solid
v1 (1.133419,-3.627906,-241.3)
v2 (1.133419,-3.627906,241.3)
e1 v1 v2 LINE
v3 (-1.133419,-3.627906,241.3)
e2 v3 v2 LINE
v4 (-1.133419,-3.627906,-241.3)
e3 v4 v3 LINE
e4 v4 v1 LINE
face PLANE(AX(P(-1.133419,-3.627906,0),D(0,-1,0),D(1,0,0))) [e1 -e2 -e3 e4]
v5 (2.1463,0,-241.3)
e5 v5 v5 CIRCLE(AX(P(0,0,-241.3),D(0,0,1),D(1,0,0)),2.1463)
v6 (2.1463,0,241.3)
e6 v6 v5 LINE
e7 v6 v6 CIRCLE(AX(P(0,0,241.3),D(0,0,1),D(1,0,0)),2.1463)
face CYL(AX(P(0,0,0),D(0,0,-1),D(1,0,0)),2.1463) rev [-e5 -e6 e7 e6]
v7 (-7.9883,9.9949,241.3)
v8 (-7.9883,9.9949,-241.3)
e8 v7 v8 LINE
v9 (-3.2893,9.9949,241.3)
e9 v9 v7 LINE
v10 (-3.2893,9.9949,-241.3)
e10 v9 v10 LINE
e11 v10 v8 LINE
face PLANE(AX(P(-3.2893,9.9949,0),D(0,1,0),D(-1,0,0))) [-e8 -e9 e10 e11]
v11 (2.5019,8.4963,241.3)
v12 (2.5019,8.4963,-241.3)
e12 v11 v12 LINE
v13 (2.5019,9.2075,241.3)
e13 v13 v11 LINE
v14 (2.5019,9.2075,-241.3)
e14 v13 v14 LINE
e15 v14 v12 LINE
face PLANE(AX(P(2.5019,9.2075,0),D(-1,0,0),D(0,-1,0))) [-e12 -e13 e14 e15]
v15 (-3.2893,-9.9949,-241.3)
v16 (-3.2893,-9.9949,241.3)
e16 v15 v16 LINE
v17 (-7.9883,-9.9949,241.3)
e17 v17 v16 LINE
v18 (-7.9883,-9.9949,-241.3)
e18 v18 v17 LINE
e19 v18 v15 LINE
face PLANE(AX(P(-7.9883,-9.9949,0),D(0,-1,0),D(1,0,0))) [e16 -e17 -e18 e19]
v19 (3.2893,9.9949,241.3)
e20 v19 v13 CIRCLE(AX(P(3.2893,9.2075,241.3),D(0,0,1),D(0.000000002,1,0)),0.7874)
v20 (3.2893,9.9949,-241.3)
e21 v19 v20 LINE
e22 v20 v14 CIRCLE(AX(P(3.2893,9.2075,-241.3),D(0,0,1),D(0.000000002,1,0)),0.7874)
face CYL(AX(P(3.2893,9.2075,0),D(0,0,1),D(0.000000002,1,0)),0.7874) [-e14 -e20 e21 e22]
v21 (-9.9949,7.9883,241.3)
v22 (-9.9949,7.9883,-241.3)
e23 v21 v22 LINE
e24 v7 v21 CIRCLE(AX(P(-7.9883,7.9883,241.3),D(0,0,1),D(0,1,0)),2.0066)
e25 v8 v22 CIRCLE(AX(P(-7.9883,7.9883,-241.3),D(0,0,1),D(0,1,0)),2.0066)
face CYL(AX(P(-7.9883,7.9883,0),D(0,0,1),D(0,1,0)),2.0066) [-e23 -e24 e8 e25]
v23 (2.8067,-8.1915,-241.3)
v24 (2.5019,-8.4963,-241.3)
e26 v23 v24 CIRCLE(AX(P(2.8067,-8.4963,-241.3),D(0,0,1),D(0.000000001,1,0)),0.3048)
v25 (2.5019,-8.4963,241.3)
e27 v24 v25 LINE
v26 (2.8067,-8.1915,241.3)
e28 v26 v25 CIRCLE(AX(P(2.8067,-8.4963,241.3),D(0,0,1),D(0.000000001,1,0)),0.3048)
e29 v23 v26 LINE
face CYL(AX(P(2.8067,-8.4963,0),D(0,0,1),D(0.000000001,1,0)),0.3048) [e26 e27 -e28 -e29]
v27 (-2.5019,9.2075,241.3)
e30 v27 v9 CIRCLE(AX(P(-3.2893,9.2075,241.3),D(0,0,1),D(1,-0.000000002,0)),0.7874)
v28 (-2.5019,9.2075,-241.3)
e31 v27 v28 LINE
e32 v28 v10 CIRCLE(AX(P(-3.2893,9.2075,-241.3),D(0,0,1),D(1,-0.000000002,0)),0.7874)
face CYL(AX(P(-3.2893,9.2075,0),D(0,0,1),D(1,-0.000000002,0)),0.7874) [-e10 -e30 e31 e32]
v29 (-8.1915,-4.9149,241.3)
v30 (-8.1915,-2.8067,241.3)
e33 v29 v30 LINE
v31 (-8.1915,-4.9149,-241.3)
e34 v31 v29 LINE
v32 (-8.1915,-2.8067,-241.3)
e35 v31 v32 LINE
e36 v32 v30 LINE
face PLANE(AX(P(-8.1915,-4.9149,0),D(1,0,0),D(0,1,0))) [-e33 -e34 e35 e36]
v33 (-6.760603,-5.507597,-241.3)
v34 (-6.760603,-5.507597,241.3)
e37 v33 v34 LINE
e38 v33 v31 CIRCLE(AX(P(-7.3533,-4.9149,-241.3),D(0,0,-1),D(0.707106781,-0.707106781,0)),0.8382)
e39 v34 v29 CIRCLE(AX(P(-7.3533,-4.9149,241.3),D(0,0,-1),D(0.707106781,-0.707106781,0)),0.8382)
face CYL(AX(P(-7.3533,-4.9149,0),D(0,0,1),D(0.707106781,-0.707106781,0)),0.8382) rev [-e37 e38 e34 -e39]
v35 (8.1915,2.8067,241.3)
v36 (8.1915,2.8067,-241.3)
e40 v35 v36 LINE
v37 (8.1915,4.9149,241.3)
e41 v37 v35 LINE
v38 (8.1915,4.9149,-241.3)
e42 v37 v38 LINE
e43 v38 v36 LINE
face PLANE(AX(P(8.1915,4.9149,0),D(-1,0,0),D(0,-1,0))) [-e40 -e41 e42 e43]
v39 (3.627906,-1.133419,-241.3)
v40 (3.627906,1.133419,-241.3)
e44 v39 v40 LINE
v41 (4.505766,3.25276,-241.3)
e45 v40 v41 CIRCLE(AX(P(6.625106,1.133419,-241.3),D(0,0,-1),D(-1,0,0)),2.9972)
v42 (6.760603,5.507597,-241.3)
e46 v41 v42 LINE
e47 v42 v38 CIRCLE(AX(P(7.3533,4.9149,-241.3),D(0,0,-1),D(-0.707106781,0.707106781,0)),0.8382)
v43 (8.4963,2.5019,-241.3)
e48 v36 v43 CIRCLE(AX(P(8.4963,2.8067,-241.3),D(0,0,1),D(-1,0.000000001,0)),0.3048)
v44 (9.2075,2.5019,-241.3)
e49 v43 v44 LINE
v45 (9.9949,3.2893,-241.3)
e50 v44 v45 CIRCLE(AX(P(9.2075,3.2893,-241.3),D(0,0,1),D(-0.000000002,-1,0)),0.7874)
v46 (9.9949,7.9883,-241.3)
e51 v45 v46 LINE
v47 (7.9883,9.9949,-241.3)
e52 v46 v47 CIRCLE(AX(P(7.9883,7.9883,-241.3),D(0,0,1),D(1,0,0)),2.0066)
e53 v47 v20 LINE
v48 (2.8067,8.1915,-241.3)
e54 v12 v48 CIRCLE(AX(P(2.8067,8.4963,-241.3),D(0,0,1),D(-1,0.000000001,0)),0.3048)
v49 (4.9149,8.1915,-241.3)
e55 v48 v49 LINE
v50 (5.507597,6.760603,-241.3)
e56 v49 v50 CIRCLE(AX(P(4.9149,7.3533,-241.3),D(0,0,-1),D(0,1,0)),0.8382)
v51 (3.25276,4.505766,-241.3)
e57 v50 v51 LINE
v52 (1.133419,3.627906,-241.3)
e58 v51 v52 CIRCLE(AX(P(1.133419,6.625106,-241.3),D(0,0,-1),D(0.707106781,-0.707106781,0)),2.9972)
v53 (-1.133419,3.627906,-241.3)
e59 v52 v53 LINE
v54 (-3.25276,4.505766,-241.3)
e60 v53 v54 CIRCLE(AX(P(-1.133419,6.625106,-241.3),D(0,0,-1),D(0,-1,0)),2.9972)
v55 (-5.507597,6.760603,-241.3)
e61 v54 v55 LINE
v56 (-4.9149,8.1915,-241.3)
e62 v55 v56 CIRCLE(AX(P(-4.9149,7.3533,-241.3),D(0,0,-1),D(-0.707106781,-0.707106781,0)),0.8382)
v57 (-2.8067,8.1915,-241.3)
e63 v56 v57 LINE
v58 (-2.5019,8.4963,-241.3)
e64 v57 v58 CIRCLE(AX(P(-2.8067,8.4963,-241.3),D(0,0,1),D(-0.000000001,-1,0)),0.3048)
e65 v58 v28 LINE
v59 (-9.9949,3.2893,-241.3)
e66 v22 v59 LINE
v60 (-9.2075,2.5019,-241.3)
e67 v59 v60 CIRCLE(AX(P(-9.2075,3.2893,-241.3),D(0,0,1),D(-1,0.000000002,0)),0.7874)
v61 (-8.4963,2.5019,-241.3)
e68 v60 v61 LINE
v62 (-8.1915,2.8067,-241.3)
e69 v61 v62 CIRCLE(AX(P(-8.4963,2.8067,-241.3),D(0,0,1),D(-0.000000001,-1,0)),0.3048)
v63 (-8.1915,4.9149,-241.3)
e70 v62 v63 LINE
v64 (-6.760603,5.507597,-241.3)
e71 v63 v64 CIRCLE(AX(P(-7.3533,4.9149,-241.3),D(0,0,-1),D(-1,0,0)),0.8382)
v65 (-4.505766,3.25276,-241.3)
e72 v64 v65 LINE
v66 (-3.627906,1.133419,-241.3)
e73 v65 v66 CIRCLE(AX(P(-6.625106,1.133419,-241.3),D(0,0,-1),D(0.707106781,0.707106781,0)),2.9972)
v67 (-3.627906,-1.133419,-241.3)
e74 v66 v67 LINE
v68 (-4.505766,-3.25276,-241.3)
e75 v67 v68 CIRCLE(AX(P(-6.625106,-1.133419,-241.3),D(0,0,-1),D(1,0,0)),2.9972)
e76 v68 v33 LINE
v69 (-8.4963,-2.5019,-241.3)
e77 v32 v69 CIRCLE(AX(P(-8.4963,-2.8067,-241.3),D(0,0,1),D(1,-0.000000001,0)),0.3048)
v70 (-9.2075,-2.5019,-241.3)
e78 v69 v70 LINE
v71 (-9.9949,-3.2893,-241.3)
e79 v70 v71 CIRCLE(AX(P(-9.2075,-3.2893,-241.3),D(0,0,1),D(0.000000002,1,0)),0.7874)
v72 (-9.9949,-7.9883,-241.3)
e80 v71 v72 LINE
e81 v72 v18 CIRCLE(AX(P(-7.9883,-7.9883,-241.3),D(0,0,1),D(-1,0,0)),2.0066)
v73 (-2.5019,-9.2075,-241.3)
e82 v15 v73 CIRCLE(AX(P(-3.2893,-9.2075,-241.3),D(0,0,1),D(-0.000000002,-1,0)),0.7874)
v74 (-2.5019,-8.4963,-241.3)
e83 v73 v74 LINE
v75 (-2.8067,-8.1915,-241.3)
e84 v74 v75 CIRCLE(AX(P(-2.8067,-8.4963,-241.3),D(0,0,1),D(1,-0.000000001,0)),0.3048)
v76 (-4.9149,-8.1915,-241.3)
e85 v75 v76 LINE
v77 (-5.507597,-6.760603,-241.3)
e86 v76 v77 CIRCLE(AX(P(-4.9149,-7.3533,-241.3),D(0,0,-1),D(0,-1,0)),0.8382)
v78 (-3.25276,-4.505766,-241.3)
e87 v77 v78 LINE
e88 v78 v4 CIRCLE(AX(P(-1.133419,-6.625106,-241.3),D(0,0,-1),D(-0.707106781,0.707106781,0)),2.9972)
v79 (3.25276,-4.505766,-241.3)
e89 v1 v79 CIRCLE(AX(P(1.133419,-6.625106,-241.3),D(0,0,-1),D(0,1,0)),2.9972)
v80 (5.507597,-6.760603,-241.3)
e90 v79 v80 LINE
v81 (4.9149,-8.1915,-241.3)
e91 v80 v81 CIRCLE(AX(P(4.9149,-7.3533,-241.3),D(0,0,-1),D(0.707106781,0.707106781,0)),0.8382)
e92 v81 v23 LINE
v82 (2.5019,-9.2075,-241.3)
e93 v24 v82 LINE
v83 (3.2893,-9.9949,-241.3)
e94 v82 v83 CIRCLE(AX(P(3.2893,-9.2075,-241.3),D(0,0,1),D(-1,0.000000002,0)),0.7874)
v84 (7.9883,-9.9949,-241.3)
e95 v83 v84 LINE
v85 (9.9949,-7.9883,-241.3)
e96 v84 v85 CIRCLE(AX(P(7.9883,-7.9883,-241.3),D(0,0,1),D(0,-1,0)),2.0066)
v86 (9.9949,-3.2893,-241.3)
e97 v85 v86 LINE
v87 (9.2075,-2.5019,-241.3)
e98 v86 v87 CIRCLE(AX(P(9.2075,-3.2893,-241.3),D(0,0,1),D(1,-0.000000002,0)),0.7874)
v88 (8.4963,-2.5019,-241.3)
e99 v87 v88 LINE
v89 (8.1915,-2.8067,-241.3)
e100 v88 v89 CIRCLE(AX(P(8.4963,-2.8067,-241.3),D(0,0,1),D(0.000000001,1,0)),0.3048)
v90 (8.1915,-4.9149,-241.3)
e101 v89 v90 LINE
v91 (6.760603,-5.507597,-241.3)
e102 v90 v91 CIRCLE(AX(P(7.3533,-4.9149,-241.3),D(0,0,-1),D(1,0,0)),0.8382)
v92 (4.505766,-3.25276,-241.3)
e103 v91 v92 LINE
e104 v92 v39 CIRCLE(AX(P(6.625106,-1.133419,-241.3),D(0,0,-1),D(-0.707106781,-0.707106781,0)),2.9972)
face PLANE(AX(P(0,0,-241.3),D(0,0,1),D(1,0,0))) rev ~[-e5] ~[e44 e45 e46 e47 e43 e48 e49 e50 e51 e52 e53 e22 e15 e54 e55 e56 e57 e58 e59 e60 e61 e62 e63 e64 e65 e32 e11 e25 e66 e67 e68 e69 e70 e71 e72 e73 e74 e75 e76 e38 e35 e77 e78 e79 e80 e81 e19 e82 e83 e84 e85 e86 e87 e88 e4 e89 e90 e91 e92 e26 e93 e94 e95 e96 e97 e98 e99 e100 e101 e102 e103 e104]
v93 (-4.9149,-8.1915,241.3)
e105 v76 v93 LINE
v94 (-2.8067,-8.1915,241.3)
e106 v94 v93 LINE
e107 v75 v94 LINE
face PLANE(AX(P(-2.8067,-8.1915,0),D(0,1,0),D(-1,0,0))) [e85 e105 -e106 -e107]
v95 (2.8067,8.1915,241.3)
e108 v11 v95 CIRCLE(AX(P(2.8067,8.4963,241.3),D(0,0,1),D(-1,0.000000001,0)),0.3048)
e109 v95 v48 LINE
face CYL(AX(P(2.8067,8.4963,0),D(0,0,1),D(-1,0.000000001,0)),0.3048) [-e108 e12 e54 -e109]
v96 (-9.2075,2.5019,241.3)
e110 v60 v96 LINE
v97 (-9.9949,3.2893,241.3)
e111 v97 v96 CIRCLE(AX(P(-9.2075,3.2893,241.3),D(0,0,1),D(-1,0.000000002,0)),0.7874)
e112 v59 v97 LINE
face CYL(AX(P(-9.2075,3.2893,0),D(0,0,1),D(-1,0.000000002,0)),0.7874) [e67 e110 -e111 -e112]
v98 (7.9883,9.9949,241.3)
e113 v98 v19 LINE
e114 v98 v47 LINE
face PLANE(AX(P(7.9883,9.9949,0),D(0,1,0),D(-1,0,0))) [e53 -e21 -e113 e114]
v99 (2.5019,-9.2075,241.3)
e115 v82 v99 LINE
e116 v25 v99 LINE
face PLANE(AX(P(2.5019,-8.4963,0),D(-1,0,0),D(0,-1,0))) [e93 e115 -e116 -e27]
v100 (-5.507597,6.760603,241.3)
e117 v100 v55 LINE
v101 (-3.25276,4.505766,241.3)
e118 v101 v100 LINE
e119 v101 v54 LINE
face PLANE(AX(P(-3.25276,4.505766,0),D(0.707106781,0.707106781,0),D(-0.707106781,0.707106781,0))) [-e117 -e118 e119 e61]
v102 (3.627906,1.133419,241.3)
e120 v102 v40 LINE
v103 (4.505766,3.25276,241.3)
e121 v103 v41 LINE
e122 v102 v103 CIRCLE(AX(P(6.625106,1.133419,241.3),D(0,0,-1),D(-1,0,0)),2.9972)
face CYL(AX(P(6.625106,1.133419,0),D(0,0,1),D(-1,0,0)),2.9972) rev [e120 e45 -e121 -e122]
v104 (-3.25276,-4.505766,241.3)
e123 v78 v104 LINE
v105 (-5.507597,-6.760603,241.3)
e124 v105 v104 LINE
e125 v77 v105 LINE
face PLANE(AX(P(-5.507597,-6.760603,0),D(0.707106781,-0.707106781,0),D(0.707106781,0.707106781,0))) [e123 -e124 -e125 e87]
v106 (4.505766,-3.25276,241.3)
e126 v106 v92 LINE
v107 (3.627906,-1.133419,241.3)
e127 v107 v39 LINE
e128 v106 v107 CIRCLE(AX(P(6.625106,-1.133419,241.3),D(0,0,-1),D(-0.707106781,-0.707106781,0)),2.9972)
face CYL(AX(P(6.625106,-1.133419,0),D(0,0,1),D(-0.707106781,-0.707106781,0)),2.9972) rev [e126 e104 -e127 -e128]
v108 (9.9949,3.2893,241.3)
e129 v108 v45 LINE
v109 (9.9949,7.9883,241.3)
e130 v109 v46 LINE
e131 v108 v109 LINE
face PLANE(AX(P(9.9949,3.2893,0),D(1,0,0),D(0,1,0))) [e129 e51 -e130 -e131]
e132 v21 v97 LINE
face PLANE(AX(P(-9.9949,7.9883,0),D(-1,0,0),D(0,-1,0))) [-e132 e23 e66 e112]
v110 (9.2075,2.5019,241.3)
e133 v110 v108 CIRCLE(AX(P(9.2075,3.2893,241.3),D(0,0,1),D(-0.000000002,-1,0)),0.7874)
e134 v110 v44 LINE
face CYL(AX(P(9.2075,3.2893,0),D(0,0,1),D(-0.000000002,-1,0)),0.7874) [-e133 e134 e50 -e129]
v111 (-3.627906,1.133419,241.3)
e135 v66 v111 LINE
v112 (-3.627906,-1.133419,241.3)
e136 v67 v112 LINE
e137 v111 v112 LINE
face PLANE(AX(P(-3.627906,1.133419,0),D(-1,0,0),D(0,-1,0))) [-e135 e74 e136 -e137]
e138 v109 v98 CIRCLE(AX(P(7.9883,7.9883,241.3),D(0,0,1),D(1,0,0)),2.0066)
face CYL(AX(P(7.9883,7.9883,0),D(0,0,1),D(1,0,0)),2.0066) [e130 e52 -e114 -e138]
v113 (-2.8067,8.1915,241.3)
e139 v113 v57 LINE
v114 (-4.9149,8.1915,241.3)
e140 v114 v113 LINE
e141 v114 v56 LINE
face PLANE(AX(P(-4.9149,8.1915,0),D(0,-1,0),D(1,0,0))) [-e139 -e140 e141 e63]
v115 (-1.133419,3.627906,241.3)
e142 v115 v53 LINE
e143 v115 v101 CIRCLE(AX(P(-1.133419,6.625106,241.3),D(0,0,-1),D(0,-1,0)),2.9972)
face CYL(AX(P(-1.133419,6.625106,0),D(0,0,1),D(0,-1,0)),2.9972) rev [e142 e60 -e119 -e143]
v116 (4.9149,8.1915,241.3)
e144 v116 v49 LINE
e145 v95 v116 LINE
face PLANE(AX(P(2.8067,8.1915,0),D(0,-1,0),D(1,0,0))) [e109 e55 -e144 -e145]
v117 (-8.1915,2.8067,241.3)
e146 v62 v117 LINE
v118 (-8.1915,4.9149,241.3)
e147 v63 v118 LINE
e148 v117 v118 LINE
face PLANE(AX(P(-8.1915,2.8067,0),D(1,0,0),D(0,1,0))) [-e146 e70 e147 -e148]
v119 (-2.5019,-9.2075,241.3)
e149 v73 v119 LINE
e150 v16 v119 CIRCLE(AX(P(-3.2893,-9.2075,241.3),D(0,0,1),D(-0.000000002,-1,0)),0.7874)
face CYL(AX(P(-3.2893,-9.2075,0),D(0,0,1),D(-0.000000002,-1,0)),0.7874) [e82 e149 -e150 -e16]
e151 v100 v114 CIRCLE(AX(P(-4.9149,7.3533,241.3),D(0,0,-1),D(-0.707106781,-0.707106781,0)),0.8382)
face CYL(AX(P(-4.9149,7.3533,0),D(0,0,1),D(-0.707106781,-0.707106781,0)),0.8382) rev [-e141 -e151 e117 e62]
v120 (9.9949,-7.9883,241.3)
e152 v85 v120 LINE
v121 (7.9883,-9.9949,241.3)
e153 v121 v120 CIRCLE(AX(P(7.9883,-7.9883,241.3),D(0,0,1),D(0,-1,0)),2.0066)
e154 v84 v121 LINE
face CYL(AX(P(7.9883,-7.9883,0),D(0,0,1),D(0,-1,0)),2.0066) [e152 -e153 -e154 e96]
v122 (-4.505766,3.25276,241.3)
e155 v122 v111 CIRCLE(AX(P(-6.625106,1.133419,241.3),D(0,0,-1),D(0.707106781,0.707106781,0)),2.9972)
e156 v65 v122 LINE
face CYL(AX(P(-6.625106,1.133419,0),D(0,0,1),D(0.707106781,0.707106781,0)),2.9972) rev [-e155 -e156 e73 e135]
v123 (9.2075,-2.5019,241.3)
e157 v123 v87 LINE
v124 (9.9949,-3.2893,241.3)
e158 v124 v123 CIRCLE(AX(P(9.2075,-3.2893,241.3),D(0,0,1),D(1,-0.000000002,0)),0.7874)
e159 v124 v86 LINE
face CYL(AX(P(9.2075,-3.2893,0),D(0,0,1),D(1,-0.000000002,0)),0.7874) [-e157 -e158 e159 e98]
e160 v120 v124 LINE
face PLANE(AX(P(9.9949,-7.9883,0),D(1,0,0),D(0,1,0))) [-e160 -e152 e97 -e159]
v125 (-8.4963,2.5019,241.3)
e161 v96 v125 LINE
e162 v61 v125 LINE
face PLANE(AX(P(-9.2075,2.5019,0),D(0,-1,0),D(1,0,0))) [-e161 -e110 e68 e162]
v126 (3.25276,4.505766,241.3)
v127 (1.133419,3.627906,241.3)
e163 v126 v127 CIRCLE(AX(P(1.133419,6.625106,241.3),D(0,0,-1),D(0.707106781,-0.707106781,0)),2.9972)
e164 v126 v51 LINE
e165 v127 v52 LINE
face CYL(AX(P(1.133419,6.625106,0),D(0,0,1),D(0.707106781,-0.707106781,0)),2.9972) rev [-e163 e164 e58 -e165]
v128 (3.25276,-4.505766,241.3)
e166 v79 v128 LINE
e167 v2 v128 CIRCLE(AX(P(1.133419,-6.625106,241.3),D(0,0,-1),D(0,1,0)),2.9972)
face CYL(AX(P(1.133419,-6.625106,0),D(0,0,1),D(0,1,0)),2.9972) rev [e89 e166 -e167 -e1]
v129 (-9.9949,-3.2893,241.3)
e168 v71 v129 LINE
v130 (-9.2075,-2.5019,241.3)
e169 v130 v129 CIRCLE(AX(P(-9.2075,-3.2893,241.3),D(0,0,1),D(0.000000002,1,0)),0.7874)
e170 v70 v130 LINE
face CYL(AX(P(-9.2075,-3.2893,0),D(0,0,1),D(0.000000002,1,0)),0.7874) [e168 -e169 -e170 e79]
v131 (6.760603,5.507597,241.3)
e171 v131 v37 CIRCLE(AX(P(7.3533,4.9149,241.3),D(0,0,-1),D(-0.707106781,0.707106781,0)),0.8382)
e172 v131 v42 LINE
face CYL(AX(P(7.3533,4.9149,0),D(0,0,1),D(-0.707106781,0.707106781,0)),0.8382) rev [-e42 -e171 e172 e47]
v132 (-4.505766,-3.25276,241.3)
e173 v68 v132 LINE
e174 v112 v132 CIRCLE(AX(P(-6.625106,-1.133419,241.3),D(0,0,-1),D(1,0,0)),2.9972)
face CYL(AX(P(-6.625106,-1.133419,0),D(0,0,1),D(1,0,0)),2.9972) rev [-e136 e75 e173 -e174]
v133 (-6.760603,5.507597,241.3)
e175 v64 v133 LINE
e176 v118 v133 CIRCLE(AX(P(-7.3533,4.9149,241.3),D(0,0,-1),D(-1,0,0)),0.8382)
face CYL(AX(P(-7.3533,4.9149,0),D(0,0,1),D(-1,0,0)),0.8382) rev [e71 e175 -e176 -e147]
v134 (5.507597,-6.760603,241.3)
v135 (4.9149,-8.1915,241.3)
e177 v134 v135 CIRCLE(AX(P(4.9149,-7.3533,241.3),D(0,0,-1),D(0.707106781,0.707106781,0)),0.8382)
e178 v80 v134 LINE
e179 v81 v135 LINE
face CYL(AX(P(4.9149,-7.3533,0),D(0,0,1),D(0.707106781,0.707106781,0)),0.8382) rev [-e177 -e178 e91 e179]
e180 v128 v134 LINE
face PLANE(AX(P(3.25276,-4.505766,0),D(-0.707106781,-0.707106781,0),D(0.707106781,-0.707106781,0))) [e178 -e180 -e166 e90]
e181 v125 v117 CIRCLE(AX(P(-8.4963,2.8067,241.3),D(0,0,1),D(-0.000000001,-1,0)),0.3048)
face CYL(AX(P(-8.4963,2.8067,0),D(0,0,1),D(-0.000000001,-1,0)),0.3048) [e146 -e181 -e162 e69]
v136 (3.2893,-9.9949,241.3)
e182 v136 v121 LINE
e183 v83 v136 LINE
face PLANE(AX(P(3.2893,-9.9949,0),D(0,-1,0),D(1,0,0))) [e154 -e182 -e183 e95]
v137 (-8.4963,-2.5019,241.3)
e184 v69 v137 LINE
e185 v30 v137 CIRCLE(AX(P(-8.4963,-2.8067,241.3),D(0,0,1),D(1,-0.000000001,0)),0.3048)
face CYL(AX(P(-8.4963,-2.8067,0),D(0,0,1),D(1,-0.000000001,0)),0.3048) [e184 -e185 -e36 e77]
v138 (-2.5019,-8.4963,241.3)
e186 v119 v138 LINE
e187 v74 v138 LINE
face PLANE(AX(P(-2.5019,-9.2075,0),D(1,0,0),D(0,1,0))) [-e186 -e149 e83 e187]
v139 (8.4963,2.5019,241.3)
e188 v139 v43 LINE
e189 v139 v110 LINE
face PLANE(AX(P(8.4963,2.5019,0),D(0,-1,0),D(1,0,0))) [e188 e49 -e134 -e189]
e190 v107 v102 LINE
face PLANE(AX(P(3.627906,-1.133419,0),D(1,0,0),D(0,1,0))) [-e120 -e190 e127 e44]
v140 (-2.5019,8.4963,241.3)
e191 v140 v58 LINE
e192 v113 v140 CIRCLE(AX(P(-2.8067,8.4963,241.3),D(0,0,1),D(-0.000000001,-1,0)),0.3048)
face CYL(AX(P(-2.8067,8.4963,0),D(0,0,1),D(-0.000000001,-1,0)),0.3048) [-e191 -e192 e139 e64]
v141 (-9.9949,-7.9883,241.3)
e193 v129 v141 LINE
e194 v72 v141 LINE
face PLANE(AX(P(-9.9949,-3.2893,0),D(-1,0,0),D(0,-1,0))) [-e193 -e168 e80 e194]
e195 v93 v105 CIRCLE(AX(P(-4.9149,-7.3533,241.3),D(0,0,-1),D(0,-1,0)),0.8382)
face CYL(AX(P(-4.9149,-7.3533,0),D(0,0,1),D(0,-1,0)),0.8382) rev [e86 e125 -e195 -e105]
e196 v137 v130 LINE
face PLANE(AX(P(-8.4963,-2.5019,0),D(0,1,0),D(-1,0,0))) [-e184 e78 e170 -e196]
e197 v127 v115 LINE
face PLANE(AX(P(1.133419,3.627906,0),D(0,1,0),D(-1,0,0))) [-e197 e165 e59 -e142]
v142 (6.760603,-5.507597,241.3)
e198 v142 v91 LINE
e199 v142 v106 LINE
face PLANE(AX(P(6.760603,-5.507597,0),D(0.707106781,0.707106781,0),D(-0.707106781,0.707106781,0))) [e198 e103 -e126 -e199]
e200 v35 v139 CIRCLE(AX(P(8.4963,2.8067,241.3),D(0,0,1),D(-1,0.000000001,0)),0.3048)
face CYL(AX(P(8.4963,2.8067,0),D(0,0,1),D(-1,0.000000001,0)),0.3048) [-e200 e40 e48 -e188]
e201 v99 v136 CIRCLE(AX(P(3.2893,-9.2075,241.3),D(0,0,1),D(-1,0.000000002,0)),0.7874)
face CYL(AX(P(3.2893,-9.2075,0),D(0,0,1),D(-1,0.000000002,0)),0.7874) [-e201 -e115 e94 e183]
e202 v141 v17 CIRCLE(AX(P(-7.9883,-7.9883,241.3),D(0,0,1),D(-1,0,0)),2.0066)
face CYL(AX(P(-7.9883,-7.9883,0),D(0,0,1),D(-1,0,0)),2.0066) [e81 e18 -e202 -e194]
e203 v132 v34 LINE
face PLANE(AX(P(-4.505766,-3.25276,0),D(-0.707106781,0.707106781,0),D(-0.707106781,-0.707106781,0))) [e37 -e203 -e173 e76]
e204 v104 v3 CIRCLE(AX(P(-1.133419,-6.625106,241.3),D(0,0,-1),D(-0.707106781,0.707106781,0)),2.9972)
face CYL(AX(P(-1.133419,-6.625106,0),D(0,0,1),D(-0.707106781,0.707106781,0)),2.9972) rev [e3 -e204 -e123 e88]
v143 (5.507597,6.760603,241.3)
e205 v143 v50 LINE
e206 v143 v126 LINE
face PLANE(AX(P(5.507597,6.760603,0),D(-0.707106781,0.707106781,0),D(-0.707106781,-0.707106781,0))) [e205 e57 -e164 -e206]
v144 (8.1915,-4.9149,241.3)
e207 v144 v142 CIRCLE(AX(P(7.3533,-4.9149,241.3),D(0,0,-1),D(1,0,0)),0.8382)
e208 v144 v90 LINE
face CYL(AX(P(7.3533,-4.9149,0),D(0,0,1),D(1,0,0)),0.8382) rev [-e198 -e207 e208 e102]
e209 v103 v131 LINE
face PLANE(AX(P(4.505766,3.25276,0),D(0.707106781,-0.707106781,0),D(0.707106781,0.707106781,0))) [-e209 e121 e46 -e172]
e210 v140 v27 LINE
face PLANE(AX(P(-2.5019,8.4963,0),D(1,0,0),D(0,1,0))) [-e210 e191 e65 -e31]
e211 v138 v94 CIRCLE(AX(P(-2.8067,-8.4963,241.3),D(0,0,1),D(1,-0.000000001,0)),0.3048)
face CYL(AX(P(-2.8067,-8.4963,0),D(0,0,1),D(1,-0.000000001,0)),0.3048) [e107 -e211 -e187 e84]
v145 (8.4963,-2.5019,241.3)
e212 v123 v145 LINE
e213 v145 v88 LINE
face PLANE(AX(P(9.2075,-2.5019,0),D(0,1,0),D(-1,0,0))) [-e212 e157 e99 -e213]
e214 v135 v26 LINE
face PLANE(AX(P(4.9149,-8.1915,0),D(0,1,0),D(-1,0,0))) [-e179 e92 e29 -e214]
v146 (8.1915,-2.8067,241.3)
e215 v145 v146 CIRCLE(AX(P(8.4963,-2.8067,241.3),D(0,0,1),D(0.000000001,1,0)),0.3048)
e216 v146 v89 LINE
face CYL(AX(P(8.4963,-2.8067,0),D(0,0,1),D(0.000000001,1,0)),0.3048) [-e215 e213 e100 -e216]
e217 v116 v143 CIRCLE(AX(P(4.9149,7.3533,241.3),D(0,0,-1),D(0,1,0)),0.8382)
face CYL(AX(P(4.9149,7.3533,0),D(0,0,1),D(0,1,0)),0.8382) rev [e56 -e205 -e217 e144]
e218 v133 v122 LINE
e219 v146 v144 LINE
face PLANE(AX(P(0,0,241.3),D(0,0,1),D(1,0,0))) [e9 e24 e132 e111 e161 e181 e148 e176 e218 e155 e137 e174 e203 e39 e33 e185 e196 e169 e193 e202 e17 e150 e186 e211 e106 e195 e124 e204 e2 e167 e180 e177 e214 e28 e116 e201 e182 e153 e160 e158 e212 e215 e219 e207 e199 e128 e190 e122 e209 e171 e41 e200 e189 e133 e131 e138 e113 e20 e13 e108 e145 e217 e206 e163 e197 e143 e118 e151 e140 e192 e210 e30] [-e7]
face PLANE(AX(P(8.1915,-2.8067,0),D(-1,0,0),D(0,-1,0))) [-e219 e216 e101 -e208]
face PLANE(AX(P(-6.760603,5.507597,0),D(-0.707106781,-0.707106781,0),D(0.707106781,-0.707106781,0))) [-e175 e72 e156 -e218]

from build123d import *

# Parameters (mm, degrees)
SKETCH1_R           = 2.1463
BOSS_EXTRUDE1_DEPTH = 241.3


with BuildPart() as part:
    # Sketch1 → Boss-Extrude1 (new body, symmetric)
    with BuildSketch(Plane.XY):
        with BuildLine():
            Line((-9.9949, 7.9883), (-9.9949, 3.2893))
            ThreePointArc((-9.9949, 3.2893), (-9.76427588, 2.73252412), (-9.2075, 2.5019))
            Line((-9.2075, 2.5019), (-8.4963, 2.5019))
            ThreePointArc((-8.4963, 2.5019), (-8.280773853, 2.591173853), (-8.1915, 2.8067))
            Line((-8.1915, 2.8067), (-8.1915, 4.9149))
            ThreePointArc((-8.1915, 4.9149), (-7.674065253, 5.689295824), (-6.760603096, 5.507596904))
            Line((-6.760603096, 5.507596904), (-4.505765747, 3.252759555))
            ThreePointArc((-4.505765747, 3.252759555), (-3.856054457, 2.280397894), (-3.627906192, 1.133419111))
            Line((-3.627906192, 1.133419111), (-3.627906192, -1.133419111))
            ThreePointArc((-3.627906192, -1.133419111), (-3.856054457, -2.280397894), (-4.505765747, -3.252759555))
            Line((-4.505765747, -3.252759555), (-6.760603096, -5.507596904))
            ThreePointArc((-6.760603096, -5.507596904), (-7.674065253, -5.689295824), (-8.1915, -4.9149))
            Line((-8.1915, -4.9149), (-8.1915, -2.8067))
            ThreePointArc((-8.1915, -2.8067), (-8.280773853, -2.591173853), (-8.4963, -2.5019))
            Line((-8.4963, -2.5019), (-9.2075, -2.5019))
            ThreePointArc((-9.2075, -2.5019), (-9.76427588, -2.73252412), (-9.9949, -3.2893))
            Line((-9.9949, -3.2893), (-9.9949, -7.9883))
            ThreePointArc((-9.9949, -7.9883), (-9.407180467, -9.407180467), (-7.9883, -9.9949))
            Line((-7.9883, -9.9949), (-3.2893, -9.9949))
            ThreePointArc((-3.2893, -9.9949), (-2.73252412, -9.76427588), (-2.5019, -9.2075))
            Line((-2.5019, -9.2075), (-2.5019, -8.4963))
            ThreePointArc((-2.5019, -8.4963), (-2.591173853, -8.280773853), (-2.8067, -8.1915))
            Line((-2.8067, -8.1915), (-4.9149, -8.1915))
            ThreePointArc((-4.9149, -8.1915), (-5.689295824, -7.674065253), (-5.507596904, -6.760603096))
            Line((-5.507596904, -6.760603096), (-3.252759555, -4.505765747))
            ThreePointArc((-3.252759555, -4.505765747), (-2.280397894, -3.856054457), (-1.133419111, -3.627906192))
            Line((-1.133419111, -3.627906192), (1.133419111, -3.627906192))
            ThreePointArc((1.133419111, -3.627906192), (2.280397894, -3.856054457), (3.252759555, -4.505765747))
            Line((3.252759555, -4.505765747), (5.507596904, -6.760603096))
            ThreePointArc((5.507596904, -6.760603096), (5.689295824, -7.674065253), (4.9149, -8.1915))
            Line((4.9149, -8.1915), (2.8067, -8.1915))
            ThreePointArc((2.8067, -8.1915), (2.591173853, -8.280773853), (2.5019, -8.4963))
            Line((2.5019, -8.4963), (2.5019, -9.2075))
            ThreePointArc((2.5019, -9.2075), (2.73252412, -9.76427588), (3.2893, -9.9949))
            Line((3.2893, -9.9949), (7.9883, -9.9949))
            ThreePointArc((7.9883, -9.9949), (9.407180467, -9.407180467), (9.9949, -7.9883))
            Line((9.9949, -7.9883), (9.9949, -3.2893))
            ThreePointArc((9.9949, -3.2893), (9.76427588, -2.73252412), (9.2075, -2.5019))
            Line((9.2075, -2.5019), (8.4963, -2.5019))
            ThreePointArc((8.4963, -2.5019), (8.280773853, -2.591173853), (8.1915, -2.8067))
            Line((8.1915, -2.8067), (8.1915, -4.9149))
            ThreePointArc((8.1915, -4.9149), (7.674065253, -5.689295824), (6.760603096, -5.507596904))
            Line((6.760603096, -5.507596904), (4.505765747, -3.252759555))
            ThreePointArc((4.505765747, -3.252759555), (3.856054457, -2.280397894), (3.627906192, -1.133419111))
            Line((3.627906192, -1.133419111), (3.627906192, 1.133419111))
            ThreePointArc((3.627906192, 1.133419111), (3.856054457, 2.280397894), (4.505765747, 3.252759555))
            Line((4.505765747, 3.252759555), (6.760603096, 5.507596904))
            ThreePointArc((6.760603096, 5.507596904), (7.674065253, 5.689295824), (8.1915, 4.9149))
            Line((8.1915, 4.9149), (8.1915, 2.8067))
            ThreePointArc((8.1915, 2.8067), (8.280773853, 2.591173853), (8.4963, 2.5019))
            Line((8.4963, 2.5019), (9.2075, 2.5019))
            ThreePointArc((9.2075, 2.5019), (9.76427588, 2.73252412), (9.9949, 3.2893))
            Line((9.9949, 3.2893), (9.9949, 7.9883))
            ThreePointArc((9.9949, 7.9883), (9.407180467, 9.407180467), (7.9883, 9.9949))
            Line((7.9883, 9.9949), (3.2893, 9.9949))
            ThreePointArc((3.2893, 9.9949), (2.73252412, 9.76427588), (2.5019, 9.2075))
            Line((2.5019, 9.2075), (2.5019, 8.4963))
            ThreePointArc((2.5019, 8.4963), (2.591173853, 8.280773853), (2.8067, 8.1915))
            Line((2.8067, 8.1915), (4.9149, 8.1915))
            ThreePointArc((4.9149, 8.1915), (5.689295824, 7.674065253), (5.507596904, 6.760603096))
            Line((5.507596904, 6.760603096), (3.252759555, 4.505765747))
            ThreePointArc((3.252759555, 4.505765747), (2.280397894, 3.856054457), (1.133419111, 3.627906192))
            Line((1.133419111, 3.627906192), (-1.133419111, 3.627906192))
            ThreePointArc((-1.133419111, 3.627906192), (-2.280397894, 3.856054457), (-3.252759555, 4.505765747))
            Line((-3.252759555, 4.505765747), (-5.507596904, 6.760603096))
            ThreePointArc((-5.507596904, 6.760603096), (-5.689295824, 7.674065253), (-4.9149, 8.1915))
            Line((-4.9149, 8.1915), (-2.8067, 8.1915))
            ThreePointArc((-2.8067, 8.1915), (-2.591173853, 8.280773853), (-2.5019, 8.4963))
            Line((-2.5019, 8.4963), (-2.5019, 9.2075))
            ThreePointArc((-2.5019, 9.2075), (-2.73252412, 9.76427588), (-3.2893, 9.9949))
            Line((-3.2893, 9.9949), (-7.9883, 9.9949))
            ThreePointArc((-7.9883, 9.9949), (-9.407180467, 9.407180467), (-9.9949, 7.9883))
        make_face()
        Circle(SKETCH1_R, mode=Mode.SUBTRACT)
    extrude(amount=BOSS_EXTRUDE1_DEPTH, both=True)


solid = part.part
